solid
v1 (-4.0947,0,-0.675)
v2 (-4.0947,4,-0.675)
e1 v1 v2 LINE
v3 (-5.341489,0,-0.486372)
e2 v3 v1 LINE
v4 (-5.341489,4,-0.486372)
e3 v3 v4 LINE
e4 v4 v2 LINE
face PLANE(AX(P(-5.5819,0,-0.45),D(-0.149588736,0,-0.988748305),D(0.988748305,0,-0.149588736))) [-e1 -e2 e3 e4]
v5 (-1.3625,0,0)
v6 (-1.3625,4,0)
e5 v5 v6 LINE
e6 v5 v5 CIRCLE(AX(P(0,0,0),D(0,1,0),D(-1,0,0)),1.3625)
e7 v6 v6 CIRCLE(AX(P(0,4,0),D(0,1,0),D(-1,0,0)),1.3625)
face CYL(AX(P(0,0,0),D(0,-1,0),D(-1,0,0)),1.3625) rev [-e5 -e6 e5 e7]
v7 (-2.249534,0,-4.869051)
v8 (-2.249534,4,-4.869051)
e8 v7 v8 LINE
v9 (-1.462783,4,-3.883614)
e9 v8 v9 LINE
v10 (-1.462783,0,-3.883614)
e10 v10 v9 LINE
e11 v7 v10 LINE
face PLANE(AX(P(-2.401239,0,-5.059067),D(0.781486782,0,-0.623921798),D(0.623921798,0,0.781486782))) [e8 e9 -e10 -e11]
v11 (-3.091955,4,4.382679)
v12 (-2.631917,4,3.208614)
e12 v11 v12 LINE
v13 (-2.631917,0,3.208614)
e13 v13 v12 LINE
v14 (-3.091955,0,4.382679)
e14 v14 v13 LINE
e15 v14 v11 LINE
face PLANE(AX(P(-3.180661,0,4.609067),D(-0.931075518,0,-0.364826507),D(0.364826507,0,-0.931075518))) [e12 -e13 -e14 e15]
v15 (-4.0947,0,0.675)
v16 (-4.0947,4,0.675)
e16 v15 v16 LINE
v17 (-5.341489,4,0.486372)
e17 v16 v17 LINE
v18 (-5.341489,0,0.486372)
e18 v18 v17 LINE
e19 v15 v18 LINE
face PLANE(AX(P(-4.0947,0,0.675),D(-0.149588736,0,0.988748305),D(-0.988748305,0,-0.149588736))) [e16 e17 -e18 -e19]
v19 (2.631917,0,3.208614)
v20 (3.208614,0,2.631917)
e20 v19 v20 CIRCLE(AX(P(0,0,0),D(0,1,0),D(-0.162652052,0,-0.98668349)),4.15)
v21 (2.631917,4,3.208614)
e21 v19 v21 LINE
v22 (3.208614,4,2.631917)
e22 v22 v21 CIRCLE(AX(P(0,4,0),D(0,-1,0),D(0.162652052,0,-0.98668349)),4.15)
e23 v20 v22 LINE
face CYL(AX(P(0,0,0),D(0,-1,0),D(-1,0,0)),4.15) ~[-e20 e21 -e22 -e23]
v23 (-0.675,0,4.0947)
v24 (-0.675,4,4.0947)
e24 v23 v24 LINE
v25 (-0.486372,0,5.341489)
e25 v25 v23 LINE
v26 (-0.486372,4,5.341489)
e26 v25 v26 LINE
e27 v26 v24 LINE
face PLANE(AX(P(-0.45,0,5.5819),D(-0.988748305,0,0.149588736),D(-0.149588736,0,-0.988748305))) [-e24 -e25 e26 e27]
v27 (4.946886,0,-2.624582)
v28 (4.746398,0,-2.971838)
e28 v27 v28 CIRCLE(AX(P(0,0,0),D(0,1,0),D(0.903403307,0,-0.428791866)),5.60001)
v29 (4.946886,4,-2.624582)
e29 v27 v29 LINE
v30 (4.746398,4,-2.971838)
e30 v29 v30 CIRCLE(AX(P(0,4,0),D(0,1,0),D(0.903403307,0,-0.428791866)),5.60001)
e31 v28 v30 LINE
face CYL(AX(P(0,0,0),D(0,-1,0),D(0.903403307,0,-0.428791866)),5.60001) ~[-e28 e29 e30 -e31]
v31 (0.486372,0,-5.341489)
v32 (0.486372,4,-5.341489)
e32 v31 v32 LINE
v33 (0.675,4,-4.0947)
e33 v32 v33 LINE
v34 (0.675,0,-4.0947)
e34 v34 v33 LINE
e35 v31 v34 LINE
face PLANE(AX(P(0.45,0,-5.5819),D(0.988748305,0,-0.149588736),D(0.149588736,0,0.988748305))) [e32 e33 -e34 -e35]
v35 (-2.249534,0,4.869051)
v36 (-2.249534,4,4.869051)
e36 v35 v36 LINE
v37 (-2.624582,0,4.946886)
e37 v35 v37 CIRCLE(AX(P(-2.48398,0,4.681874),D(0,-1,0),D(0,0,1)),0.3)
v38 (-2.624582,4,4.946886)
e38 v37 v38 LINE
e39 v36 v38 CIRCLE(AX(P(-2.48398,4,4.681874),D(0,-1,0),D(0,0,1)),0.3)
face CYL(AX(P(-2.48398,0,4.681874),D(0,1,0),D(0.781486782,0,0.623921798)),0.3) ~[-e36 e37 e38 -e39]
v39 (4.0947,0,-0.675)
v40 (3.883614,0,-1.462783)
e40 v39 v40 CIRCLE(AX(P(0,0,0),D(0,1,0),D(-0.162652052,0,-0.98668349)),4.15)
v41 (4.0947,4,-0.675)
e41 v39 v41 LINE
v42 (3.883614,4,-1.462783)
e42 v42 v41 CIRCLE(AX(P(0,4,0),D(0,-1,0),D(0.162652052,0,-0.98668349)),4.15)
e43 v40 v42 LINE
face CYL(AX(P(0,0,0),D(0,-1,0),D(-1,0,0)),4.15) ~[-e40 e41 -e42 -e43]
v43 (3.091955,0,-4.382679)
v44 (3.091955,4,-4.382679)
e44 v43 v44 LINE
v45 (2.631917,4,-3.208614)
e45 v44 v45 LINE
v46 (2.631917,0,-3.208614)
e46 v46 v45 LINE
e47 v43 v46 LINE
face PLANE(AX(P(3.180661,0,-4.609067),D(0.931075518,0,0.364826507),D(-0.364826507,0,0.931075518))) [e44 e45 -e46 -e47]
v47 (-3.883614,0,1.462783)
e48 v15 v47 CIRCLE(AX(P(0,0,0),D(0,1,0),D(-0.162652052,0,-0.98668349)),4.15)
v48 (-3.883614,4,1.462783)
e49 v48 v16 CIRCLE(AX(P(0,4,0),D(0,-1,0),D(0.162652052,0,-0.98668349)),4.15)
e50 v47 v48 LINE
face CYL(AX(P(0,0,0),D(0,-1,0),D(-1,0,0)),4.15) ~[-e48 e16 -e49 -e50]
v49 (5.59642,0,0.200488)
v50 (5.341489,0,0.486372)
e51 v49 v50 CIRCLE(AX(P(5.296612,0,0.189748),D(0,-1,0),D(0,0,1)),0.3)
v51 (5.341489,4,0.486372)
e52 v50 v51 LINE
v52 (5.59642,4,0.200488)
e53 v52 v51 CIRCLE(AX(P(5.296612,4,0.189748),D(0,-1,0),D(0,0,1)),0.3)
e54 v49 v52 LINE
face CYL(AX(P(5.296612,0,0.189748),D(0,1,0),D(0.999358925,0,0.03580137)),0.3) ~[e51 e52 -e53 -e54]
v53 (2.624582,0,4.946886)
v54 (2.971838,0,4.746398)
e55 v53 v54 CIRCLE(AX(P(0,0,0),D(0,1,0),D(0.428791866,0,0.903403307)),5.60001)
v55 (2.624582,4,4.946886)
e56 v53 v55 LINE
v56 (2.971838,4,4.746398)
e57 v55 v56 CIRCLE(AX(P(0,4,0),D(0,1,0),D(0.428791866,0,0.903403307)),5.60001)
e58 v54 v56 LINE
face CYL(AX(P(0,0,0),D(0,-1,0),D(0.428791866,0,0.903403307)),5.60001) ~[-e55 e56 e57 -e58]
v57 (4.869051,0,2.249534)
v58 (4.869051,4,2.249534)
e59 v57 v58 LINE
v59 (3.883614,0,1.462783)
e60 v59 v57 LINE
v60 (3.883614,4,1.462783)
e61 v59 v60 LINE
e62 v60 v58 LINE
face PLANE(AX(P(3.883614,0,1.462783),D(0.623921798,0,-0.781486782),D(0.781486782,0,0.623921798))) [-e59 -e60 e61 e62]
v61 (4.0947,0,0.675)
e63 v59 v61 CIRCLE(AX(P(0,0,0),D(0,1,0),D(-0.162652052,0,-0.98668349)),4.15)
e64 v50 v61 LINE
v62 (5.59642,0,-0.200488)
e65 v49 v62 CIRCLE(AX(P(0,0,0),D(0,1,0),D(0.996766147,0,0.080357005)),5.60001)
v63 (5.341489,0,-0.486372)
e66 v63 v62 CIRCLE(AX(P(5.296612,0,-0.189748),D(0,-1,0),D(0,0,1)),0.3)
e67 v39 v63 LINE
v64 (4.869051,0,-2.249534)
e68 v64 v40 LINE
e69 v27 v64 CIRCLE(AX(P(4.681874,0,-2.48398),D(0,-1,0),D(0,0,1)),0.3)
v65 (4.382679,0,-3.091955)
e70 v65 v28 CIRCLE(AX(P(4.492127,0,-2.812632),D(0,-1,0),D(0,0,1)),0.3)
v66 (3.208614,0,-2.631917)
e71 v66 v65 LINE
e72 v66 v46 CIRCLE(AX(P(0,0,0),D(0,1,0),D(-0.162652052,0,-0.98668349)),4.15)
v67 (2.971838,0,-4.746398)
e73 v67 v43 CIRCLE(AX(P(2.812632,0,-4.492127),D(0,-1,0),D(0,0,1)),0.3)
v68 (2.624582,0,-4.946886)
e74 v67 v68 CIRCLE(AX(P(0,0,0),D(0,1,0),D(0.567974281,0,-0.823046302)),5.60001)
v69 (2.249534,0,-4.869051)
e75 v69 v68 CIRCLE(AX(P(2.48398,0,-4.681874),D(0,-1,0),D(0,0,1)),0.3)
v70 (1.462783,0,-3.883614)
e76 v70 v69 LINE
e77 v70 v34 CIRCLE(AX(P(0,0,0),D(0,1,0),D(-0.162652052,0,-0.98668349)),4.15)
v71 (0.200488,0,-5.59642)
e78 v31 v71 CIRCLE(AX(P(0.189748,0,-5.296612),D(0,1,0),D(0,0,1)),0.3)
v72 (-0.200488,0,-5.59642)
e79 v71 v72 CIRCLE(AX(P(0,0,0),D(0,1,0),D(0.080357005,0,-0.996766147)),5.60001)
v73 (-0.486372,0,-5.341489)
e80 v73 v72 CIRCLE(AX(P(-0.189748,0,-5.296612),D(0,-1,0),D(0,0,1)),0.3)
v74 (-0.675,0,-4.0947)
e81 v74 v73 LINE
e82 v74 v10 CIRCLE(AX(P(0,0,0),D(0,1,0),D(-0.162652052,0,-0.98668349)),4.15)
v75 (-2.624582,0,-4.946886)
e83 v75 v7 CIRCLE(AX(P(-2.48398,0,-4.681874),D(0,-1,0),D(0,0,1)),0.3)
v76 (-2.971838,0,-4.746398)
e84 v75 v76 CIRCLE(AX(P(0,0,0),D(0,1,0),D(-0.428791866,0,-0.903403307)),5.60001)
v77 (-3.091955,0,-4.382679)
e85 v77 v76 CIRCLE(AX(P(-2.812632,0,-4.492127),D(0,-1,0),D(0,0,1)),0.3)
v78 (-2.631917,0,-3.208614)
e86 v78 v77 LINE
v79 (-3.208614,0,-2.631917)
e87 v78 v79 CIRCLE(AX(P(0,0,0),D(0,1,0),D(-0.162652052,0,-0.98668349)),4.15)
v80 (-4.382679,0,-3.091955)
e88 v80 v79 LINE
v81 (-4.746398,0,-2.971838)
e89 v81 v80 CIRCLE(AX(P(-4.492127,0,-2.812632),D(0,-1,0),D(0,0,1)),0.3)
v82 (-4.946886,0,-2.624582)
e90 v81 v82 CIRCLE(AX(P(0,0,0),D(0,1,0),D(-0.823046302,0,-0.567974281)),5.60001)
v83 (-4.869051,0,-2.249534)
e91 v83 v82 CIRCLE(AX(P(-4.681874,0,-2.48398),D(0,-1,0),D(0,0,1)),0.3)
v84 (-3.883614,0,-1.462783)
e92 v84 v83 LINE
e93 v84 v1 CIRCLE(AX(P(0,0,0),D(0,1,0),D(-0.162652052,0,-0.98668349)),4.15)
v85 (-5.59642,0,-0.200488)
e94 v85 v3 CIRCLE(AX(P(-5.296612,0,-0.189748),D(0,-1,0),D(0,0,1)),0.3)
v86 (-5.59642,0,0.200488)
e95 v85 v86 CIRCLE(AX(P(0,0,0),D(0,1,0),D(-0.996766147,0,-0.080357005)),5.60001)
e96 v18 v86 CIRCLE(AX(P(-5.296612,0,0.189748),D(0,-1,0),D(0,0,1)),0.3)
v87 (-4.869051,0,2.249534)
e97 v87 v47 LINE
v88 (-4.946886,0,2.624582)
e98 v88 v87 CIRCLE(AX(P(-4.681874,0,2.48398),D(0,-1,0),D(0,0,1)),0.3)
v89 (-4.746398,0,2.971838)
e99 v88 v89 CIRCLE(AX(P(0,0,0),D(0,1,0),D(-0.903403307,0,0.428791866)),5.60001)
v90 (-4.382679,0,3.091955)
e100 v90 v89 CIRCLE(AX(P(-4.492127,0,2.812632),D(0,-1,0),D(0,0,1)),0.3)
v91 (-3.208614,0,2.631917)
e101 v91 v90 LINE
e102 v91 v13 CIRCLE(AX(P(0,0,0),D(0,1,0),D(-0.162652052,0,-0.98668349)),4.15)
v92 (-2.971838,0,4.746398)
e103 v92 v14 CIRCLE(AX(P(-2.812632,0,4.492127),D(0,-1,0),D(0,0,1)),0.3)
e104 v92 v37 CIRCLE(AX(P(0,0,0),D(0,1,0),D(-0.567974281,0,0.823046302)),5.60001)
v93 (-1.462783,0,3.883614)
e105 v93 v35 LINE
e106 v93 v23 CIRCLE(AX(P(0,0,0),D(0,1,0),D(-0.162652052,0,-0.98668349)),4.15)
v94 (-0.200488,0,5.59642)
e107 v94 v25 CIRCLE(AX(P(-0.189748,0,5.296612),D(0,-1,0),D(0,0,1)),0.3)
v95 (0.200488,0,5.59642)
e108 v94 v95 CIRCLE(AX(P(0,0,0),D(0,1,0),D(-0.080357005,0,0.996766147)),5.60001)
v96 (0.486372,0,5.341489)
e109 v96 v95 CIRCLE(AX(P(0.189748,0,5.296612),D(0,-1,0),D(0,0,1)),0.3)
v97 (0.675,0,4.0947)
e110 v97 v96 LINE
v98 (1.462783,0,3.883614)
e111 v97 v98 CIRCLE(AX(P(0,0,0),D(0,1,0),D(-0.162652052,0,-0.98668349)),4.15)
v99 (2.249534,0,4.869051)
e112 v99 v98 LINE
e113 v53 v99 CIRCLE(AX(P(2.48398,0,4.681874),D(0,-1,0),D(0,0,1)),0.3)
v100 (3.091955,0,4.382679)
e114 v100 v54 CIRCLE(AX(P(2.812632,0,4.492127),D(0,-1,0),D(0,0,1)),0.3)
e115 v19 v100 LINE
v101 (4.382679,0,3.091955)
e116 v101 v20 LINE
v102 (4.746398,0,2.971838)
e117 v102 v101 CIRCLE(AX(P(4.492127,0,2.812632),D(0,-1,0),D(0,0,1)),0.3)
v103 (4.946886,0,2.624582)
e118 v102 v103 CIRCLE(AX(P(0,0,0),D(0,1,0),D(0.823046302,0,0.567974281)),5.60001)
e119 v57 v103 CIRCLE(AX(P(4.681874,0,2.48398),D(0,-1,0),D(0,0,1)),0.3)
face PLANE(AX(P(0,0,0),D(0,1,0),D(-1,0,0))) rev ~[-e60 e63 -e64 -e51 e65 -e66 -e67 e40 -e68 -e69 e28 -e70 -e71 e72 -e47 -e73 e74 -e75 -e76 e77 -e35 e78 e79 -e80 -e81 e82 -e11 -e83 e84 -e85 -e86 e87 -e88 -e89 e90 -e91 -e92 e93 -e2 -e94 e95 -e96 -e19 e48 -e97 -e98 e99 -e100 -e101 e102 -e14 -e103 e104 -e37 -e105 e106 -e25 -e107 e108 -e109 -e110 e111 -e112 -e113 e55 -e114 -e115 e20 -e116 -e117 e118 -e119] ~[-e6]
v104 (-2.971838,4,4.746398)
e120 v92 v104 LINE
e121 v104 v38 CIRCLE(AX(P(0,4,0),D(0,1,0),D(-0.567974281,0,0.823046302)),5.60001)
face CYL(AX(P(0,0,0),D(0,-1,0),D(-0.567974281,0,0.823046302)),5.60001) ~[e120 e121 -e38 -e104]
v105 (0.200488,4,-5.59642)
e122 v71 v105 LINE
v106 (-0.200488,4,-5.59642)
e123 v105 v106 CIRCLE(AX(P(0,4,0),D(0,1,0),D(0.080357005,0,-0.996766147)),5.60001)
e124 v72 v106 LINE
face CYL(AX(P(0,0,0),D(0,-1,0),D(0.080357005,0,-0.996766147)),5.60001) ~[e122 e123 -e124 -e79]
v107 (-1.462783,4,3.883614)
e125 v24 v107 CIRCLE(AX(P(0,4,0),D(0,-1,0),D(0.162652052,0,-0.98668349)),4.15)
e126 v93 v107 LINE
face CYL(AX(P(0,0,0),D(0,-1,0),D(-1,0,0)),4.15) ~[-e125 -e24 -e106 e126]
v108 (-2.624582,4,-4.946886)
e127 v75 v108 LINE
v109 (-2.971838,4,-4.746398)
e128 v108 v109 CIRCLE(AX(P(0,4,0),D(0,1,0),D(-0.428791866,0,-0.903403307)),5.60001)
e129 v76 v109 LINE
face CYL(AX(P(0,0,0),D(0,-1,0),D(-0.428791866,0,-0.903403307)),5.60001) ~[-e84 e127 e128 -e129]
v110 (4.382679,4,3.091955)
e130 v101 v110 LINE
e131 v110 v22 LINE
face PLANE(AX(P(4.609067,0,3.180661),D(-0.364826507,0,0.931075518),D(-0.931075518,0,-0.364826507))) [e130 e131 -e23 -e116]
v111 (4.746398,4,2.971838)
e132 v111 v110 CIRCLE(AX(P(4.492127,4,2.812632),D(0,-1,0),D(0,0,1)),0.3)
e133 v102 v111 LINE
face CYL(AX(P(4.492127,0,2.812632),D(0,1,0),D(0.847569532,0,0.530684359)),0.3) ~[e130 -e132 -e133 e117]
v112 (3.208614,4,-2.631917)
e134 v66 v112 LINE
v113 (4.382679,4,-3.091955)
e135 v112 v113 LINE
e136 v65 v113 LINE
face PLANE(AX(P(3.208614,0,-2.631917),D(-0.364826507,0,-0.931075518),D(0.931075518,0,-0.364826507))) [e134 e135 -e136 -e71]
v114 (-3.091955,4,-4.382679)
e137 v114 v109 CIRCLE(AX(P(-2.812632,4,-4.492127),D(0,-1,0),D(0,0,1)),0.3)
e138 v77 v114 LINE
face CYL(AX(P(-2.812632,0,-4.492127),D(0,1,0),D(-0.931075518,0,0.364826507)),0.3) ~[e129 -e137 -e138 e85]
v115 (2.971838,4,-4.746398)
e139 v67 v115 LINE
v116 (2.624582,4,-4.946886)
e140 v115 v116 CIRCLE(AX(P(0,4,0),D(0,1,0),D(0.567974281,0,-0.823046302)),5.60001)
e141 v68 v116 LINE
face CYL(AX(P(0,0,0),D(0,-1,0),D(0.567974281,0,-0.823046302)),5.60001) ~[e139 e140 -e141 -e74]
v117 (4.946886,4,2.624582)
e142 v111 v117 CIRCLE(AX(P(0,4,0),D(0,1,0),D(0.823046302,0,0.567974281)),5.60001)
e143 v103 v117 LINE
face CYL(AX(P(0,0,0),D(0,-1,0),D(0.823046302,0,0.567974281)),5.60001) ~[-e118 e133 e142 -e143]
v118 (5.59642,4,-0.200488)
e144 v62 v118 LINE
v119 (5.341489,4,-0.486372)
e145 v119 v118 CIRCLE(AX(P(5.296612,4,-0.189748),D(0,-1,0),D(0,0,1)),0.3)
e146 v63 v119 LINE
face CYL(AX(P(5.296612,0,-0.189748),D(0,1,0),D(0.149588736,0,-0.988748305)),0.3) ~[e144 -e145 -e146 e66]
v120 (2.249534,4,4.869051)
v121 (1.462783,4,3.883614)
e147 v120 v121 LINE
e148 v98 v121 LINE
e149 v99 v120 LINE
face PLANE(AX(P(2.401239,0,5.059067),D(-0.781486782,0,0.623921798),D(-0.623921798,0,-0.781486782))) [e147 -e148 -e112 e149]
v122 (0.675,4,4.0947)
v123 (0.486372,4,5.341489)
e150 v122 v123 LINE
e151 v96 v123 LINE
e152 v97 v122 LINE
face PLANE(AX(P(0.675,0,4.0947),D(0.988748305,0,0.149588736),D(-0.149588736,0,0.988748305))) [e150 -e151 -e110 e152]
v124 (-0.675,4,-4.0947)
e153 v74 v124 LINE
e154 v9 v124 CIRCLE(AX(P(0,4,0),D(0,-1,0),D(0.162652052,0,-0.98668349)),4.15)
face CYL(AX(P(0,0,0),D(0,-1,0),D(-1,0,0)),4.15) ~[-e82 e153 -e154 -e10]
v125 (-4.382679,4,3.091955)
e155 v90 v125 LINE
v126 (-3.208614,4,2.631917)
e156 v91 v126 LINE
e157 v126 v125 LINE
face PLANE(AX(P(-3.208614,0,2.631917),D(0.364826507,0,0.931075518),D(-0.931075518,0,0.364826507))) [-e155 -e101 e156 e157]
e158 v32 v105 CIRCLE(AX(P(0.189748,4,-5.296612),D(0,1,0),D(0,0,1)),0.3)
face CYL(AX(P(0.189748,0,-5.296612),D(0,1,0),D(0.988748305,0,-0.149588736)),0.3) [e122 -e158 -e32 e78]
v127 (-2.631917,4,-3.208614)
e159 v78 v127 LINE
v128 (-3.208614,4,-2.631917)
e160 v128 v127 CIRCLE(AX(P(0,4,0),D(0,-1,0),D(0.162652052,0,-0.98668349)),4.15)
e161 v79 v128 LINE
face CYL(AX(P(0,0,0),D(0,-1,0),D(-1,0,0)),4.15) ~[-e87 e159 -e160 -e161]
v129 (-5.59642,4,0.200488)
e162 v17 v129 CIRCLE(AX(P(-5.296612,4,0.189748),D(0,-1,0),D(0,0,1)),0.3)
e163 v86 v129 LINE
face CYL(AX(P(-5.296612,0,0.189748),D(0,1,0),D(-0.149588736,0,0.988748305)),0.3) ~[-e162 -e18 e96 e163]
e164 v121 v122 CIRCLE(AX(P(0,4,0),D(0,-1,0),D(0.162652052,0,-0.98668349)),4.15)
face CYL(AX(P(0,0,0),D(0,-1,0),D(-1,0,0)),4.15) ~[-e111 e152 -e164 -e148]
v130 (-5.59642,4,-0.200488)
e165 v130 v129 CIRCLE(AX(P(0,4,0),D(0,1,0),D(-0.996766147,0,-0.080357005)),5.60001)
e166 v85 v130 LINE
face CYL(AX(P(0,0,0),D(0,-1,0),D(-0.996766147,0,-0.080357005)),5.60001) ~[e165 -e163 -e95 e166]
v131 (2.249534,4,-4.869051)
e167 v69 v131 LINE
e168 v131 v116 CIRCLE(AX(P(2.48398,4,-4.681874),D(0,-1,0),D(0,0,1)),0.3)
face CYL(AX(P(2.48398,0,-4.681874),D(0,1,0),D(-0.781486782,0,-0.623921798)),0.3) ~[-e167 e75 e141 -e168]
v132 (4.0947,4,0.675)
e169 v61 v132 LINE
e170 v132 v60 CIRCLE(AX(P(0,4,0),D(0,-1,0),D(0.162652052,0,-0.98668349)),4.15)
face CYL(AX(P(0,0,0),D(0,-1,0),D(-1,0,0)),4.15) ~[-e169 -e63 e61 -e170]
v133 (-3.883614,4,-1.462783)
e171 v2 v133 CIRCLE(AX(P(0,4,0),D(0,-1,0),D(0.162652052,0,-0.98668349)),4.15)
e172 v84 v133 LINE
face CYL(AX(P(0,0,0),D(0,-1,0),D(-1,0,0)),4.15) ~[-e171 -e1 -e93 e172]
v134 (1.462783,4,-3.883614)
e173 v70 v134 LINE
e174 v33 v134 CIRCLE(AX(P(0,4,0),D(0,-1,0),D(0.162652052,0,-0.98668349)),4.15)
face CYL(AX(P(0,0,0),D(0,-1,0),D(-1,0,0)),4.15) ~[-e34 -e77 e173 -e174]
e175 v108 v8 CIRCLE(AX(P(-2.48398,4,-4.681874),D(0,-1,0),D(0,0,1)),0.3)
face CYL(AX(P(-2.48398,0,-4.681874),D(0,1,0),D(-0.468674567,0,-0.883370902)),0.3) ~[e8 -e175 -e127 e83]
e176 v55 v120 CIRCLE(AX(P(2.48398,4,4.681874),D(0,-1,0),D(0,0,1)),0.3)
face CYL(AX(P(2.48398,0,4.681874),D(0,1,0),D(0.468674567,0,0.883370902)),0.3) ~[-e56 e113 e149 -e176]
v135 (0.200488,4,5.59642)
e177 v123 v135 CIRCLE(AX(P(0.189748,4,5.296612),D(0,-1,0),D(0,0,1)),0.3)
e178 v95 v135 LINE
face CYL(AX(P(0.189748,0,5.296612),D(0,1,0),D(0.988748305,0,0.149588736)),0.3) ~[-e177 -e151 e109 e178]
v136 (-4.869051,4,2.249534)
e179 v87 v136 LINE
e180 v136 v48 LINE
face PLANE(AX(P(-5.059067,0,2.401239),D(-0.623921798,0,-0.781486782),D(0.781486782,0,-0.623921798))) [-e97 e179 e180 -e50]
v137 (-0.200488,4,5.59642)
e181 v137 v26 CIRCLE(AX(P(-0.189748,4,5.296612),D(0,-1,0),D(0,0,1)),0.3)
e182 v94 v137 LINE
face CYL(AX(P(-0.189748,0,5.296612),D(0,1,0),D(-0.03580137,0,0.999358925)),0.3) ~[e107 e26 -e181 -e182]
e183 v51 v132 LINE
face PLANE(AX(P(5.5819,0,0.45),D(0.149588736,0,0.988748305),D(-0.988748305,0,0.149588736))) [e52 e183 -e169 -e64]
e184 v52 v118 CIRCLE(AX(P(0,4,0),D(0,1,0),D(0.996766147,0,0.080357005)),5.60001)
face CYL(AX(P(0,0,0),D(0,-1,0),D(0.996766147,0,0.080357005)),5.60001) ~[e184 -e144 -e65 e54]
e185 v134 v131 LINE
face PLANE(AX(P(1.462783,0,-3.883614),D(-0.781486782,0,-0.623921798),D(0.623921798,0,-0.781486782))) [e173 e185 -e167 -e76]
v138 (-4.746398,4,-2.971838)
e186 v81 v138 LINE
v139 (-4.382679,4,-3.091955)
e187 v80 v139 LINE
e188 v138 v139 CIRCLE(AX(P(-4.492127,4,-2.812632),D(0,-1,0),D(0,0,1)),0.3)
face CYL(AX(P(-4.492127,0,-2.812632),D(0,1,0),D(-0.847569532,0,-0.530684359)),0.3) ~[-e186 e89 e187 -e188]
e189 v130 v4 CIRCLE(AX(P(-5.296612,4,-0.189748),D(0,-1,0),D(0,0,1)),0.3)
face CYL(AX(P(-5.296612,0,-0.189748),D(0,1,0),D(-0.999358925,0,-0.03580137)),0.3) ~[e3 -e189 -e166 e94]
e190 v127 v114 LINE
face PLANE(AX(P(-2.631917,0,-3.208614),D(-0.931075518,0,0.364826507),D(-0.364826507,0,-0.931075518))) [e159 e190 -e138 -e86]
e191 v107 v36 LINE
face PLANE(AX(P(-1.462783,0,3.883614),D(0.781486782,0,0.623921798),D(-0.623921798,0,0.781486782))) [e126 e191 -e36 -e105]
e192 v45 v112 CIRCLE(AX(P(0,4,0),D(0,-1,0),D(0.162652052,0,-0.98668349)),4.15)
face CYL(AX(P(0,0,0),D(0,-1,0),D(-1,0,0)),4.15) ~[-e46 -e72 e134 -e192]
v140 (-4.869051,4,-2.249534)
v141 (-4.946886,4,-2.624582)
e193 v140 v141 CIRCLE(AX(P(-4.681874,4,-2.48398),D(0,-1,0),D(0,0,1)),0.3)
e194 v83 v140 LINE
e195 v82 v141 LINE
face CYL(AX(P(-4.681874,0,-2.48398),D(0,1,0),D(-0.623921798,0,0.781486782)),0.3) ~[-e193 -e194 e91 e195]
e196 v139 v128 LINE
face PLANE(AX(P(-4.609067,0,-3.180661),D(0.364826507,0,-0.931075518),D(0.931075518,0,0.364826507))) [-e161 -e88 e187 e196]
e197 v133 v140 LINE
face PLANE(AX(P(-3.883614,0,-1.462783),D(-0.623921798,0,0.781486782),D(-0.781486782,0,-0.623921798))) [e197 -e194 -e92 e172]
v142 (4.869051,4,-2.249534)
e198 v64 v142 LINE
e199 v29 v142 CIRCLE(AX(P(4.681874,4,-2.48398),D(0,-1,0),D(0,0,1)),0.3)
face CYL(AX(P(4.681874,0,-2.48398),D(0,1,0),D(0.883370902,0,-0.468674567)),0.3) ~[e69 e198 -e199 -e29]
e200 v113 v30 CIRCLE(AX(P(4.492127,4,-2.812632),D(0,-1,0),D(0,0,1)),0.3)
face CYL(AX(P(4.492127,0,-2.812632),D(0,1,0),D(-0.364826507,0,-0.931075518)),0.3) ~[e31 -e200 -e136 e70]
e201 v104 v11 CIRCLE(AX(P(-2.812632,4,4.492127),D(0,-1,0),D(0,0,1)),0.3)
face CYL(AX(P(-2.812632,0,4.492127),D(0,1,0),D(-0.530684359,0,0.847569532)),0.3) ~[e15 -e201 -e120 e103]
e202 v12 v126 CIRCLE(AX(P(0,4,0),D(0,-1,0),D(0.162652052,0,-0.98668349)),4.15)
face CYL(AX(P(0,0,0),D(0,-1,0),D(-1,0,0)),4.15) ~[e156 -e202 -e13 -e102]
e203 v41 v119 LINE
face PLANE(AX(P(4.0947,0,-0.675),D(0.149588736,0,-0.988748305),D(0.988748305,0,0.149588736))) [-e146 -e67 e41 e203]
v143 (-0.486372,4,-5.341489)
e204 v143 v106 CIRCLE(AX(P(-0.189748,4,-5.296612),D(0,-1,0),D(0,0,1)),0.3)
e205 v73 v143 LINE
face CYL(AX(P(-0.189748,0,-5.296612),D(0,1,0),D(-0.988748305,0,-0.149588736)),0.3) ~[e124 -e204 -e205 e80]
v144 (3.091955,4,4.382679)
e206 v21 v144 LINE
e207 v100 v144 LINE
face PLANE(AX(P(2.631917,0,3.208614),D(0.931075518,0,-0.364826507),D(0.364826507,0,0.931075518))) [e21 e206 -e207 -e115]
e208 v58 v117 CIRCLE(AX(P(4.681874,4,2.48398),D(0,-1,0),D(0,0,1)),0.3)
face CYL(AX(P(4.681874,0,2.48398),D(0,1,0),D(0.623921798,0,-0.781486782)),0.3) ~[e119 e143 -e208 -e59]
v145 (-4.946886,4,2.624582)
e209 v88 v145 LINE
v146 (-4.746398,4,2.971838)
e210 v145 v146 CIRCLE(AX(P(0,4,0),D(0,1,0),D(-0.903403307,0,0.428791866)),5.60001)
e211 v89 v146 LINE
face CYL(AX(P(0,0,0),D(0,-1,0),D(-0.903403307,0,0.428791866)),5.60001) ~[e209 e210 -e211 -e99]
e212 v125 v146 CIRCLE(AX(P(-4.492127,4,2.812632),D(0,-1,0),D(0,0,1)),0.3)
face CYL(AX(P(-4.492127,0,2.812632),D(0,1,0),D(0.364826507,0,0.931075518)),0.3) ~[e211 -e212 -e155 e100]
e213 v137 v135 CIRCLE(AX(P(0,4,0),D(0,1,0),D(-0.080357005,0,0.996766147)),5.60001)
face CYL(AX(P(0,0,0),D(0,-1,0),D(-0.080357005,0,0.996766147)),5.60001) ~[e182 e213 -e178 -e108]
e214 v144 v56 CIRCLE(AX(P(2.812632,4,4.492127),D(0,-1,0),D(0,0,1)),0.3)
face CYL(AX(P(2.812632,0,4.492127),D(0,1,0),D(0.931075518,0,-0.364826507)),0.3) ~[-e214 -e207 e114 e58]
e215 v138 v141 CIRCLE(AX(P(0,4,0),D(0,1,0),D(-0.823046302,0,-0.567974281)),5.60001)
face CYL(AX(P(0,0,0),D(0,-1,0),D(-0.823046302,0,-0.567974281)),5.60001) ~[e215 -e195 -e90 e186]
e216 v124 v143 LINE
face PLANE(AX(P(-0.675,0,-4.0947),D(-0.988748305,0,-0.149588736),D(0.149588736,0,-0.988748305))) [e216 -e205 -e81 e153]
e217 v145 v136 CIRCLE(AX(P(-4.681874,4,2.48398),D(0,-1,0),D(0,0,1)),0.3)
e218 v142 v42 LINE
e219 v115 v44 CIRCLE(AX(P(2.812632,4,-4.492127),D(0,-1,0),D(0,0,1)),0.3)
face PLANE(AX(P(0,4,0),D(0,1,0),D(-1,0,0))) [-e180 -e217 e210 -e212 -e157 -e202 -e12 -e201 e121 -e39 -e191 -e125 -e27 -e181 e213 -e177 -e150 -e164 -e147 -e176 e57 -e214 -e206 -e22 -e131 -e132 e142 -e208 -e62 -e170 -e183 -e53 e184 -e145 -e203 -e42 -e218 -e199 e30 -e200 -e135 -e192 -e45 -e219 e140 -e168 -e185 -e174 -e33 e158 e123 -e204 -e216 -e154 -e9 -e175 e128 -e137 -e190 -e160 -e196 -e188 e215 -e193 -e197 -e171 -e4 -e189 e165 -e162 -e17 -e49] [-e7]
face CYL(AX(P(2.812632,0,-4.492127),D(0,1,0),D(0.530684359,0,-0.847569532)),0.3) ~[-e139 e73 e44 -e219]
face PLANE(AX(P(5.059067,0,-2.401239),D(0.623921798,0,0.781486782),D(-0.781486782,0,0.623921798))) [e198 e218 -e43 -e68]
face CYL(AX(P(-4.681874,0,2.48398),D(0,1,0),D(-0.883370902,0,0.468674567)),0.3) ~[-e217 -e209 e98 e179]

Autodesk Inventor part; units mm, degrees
ref_plane "YZ Plane" through (0, 0, 0) normal (1, 0, 0) x (0, 1, 0)
ref_plane "XZ Plane" through (0, 0, 0) normal (0, 1, 0) x (-1, 0, 0)
ref_plane "XY Plane" through (0, 0, 0) normal (0, 0, 1) x (1, 0, 0)
sketch "Sketch1" plane through (0, 0, 0) normal (0, 1, 0) x (-1, 0, 0)
  arc A0 (0.45, -5.5819) -> (-0.45, -5.5819) centre (0, 0) ccw construction
  circle A1 centre (0, 0) radius 4.15
  line L0 (-0.45, -5.5819) -> (-0.675, -4.0947)
  line L1 (0.675, -4.0947) -> (0.45, -5.5819)
  line L2 (0.675, -4.0947) -> (-0.675, -4.0947) construction
  line L3 (0.45, -5.5819) -> (-0.45, -5.5819) construction
  arc A2 (-0.45, -5.5819) -> (0.45, -5.5819) centre (0, 0) ccw
  circle A3 centre (0, 0) radius 1.3625
  dimension "d1" = 11.2
  dimension "d2" = 8.3
  dimension "d3" = 0.9
  dimension "d4" = 1.35
  dimension "d13" = 2.725
extrude "Extrusion1" add sketch "Sketch1" along normal blind 4 contours A1 | A3
extrude "Extrusion2" add sketch "Sketch1" along normal blind 4 contours A1 L1 A2 L0
fillet "Fillet1" radius 0.3 2 edges at (0.45, 2, -5.5819) (-0.45, 2, -5.5819)
pattern_circular "Circular Pattern1" count 12 over 360 about axis through (0, 0, 0) along (0, 1, 0) of "Extrusion2", "Fillet1"
extrude "Extrusion3" cut sketch "Sketch1" along normal blind 4 contours A3
properties part number "Motor Shaft Gear" material "ABS Plastic"
